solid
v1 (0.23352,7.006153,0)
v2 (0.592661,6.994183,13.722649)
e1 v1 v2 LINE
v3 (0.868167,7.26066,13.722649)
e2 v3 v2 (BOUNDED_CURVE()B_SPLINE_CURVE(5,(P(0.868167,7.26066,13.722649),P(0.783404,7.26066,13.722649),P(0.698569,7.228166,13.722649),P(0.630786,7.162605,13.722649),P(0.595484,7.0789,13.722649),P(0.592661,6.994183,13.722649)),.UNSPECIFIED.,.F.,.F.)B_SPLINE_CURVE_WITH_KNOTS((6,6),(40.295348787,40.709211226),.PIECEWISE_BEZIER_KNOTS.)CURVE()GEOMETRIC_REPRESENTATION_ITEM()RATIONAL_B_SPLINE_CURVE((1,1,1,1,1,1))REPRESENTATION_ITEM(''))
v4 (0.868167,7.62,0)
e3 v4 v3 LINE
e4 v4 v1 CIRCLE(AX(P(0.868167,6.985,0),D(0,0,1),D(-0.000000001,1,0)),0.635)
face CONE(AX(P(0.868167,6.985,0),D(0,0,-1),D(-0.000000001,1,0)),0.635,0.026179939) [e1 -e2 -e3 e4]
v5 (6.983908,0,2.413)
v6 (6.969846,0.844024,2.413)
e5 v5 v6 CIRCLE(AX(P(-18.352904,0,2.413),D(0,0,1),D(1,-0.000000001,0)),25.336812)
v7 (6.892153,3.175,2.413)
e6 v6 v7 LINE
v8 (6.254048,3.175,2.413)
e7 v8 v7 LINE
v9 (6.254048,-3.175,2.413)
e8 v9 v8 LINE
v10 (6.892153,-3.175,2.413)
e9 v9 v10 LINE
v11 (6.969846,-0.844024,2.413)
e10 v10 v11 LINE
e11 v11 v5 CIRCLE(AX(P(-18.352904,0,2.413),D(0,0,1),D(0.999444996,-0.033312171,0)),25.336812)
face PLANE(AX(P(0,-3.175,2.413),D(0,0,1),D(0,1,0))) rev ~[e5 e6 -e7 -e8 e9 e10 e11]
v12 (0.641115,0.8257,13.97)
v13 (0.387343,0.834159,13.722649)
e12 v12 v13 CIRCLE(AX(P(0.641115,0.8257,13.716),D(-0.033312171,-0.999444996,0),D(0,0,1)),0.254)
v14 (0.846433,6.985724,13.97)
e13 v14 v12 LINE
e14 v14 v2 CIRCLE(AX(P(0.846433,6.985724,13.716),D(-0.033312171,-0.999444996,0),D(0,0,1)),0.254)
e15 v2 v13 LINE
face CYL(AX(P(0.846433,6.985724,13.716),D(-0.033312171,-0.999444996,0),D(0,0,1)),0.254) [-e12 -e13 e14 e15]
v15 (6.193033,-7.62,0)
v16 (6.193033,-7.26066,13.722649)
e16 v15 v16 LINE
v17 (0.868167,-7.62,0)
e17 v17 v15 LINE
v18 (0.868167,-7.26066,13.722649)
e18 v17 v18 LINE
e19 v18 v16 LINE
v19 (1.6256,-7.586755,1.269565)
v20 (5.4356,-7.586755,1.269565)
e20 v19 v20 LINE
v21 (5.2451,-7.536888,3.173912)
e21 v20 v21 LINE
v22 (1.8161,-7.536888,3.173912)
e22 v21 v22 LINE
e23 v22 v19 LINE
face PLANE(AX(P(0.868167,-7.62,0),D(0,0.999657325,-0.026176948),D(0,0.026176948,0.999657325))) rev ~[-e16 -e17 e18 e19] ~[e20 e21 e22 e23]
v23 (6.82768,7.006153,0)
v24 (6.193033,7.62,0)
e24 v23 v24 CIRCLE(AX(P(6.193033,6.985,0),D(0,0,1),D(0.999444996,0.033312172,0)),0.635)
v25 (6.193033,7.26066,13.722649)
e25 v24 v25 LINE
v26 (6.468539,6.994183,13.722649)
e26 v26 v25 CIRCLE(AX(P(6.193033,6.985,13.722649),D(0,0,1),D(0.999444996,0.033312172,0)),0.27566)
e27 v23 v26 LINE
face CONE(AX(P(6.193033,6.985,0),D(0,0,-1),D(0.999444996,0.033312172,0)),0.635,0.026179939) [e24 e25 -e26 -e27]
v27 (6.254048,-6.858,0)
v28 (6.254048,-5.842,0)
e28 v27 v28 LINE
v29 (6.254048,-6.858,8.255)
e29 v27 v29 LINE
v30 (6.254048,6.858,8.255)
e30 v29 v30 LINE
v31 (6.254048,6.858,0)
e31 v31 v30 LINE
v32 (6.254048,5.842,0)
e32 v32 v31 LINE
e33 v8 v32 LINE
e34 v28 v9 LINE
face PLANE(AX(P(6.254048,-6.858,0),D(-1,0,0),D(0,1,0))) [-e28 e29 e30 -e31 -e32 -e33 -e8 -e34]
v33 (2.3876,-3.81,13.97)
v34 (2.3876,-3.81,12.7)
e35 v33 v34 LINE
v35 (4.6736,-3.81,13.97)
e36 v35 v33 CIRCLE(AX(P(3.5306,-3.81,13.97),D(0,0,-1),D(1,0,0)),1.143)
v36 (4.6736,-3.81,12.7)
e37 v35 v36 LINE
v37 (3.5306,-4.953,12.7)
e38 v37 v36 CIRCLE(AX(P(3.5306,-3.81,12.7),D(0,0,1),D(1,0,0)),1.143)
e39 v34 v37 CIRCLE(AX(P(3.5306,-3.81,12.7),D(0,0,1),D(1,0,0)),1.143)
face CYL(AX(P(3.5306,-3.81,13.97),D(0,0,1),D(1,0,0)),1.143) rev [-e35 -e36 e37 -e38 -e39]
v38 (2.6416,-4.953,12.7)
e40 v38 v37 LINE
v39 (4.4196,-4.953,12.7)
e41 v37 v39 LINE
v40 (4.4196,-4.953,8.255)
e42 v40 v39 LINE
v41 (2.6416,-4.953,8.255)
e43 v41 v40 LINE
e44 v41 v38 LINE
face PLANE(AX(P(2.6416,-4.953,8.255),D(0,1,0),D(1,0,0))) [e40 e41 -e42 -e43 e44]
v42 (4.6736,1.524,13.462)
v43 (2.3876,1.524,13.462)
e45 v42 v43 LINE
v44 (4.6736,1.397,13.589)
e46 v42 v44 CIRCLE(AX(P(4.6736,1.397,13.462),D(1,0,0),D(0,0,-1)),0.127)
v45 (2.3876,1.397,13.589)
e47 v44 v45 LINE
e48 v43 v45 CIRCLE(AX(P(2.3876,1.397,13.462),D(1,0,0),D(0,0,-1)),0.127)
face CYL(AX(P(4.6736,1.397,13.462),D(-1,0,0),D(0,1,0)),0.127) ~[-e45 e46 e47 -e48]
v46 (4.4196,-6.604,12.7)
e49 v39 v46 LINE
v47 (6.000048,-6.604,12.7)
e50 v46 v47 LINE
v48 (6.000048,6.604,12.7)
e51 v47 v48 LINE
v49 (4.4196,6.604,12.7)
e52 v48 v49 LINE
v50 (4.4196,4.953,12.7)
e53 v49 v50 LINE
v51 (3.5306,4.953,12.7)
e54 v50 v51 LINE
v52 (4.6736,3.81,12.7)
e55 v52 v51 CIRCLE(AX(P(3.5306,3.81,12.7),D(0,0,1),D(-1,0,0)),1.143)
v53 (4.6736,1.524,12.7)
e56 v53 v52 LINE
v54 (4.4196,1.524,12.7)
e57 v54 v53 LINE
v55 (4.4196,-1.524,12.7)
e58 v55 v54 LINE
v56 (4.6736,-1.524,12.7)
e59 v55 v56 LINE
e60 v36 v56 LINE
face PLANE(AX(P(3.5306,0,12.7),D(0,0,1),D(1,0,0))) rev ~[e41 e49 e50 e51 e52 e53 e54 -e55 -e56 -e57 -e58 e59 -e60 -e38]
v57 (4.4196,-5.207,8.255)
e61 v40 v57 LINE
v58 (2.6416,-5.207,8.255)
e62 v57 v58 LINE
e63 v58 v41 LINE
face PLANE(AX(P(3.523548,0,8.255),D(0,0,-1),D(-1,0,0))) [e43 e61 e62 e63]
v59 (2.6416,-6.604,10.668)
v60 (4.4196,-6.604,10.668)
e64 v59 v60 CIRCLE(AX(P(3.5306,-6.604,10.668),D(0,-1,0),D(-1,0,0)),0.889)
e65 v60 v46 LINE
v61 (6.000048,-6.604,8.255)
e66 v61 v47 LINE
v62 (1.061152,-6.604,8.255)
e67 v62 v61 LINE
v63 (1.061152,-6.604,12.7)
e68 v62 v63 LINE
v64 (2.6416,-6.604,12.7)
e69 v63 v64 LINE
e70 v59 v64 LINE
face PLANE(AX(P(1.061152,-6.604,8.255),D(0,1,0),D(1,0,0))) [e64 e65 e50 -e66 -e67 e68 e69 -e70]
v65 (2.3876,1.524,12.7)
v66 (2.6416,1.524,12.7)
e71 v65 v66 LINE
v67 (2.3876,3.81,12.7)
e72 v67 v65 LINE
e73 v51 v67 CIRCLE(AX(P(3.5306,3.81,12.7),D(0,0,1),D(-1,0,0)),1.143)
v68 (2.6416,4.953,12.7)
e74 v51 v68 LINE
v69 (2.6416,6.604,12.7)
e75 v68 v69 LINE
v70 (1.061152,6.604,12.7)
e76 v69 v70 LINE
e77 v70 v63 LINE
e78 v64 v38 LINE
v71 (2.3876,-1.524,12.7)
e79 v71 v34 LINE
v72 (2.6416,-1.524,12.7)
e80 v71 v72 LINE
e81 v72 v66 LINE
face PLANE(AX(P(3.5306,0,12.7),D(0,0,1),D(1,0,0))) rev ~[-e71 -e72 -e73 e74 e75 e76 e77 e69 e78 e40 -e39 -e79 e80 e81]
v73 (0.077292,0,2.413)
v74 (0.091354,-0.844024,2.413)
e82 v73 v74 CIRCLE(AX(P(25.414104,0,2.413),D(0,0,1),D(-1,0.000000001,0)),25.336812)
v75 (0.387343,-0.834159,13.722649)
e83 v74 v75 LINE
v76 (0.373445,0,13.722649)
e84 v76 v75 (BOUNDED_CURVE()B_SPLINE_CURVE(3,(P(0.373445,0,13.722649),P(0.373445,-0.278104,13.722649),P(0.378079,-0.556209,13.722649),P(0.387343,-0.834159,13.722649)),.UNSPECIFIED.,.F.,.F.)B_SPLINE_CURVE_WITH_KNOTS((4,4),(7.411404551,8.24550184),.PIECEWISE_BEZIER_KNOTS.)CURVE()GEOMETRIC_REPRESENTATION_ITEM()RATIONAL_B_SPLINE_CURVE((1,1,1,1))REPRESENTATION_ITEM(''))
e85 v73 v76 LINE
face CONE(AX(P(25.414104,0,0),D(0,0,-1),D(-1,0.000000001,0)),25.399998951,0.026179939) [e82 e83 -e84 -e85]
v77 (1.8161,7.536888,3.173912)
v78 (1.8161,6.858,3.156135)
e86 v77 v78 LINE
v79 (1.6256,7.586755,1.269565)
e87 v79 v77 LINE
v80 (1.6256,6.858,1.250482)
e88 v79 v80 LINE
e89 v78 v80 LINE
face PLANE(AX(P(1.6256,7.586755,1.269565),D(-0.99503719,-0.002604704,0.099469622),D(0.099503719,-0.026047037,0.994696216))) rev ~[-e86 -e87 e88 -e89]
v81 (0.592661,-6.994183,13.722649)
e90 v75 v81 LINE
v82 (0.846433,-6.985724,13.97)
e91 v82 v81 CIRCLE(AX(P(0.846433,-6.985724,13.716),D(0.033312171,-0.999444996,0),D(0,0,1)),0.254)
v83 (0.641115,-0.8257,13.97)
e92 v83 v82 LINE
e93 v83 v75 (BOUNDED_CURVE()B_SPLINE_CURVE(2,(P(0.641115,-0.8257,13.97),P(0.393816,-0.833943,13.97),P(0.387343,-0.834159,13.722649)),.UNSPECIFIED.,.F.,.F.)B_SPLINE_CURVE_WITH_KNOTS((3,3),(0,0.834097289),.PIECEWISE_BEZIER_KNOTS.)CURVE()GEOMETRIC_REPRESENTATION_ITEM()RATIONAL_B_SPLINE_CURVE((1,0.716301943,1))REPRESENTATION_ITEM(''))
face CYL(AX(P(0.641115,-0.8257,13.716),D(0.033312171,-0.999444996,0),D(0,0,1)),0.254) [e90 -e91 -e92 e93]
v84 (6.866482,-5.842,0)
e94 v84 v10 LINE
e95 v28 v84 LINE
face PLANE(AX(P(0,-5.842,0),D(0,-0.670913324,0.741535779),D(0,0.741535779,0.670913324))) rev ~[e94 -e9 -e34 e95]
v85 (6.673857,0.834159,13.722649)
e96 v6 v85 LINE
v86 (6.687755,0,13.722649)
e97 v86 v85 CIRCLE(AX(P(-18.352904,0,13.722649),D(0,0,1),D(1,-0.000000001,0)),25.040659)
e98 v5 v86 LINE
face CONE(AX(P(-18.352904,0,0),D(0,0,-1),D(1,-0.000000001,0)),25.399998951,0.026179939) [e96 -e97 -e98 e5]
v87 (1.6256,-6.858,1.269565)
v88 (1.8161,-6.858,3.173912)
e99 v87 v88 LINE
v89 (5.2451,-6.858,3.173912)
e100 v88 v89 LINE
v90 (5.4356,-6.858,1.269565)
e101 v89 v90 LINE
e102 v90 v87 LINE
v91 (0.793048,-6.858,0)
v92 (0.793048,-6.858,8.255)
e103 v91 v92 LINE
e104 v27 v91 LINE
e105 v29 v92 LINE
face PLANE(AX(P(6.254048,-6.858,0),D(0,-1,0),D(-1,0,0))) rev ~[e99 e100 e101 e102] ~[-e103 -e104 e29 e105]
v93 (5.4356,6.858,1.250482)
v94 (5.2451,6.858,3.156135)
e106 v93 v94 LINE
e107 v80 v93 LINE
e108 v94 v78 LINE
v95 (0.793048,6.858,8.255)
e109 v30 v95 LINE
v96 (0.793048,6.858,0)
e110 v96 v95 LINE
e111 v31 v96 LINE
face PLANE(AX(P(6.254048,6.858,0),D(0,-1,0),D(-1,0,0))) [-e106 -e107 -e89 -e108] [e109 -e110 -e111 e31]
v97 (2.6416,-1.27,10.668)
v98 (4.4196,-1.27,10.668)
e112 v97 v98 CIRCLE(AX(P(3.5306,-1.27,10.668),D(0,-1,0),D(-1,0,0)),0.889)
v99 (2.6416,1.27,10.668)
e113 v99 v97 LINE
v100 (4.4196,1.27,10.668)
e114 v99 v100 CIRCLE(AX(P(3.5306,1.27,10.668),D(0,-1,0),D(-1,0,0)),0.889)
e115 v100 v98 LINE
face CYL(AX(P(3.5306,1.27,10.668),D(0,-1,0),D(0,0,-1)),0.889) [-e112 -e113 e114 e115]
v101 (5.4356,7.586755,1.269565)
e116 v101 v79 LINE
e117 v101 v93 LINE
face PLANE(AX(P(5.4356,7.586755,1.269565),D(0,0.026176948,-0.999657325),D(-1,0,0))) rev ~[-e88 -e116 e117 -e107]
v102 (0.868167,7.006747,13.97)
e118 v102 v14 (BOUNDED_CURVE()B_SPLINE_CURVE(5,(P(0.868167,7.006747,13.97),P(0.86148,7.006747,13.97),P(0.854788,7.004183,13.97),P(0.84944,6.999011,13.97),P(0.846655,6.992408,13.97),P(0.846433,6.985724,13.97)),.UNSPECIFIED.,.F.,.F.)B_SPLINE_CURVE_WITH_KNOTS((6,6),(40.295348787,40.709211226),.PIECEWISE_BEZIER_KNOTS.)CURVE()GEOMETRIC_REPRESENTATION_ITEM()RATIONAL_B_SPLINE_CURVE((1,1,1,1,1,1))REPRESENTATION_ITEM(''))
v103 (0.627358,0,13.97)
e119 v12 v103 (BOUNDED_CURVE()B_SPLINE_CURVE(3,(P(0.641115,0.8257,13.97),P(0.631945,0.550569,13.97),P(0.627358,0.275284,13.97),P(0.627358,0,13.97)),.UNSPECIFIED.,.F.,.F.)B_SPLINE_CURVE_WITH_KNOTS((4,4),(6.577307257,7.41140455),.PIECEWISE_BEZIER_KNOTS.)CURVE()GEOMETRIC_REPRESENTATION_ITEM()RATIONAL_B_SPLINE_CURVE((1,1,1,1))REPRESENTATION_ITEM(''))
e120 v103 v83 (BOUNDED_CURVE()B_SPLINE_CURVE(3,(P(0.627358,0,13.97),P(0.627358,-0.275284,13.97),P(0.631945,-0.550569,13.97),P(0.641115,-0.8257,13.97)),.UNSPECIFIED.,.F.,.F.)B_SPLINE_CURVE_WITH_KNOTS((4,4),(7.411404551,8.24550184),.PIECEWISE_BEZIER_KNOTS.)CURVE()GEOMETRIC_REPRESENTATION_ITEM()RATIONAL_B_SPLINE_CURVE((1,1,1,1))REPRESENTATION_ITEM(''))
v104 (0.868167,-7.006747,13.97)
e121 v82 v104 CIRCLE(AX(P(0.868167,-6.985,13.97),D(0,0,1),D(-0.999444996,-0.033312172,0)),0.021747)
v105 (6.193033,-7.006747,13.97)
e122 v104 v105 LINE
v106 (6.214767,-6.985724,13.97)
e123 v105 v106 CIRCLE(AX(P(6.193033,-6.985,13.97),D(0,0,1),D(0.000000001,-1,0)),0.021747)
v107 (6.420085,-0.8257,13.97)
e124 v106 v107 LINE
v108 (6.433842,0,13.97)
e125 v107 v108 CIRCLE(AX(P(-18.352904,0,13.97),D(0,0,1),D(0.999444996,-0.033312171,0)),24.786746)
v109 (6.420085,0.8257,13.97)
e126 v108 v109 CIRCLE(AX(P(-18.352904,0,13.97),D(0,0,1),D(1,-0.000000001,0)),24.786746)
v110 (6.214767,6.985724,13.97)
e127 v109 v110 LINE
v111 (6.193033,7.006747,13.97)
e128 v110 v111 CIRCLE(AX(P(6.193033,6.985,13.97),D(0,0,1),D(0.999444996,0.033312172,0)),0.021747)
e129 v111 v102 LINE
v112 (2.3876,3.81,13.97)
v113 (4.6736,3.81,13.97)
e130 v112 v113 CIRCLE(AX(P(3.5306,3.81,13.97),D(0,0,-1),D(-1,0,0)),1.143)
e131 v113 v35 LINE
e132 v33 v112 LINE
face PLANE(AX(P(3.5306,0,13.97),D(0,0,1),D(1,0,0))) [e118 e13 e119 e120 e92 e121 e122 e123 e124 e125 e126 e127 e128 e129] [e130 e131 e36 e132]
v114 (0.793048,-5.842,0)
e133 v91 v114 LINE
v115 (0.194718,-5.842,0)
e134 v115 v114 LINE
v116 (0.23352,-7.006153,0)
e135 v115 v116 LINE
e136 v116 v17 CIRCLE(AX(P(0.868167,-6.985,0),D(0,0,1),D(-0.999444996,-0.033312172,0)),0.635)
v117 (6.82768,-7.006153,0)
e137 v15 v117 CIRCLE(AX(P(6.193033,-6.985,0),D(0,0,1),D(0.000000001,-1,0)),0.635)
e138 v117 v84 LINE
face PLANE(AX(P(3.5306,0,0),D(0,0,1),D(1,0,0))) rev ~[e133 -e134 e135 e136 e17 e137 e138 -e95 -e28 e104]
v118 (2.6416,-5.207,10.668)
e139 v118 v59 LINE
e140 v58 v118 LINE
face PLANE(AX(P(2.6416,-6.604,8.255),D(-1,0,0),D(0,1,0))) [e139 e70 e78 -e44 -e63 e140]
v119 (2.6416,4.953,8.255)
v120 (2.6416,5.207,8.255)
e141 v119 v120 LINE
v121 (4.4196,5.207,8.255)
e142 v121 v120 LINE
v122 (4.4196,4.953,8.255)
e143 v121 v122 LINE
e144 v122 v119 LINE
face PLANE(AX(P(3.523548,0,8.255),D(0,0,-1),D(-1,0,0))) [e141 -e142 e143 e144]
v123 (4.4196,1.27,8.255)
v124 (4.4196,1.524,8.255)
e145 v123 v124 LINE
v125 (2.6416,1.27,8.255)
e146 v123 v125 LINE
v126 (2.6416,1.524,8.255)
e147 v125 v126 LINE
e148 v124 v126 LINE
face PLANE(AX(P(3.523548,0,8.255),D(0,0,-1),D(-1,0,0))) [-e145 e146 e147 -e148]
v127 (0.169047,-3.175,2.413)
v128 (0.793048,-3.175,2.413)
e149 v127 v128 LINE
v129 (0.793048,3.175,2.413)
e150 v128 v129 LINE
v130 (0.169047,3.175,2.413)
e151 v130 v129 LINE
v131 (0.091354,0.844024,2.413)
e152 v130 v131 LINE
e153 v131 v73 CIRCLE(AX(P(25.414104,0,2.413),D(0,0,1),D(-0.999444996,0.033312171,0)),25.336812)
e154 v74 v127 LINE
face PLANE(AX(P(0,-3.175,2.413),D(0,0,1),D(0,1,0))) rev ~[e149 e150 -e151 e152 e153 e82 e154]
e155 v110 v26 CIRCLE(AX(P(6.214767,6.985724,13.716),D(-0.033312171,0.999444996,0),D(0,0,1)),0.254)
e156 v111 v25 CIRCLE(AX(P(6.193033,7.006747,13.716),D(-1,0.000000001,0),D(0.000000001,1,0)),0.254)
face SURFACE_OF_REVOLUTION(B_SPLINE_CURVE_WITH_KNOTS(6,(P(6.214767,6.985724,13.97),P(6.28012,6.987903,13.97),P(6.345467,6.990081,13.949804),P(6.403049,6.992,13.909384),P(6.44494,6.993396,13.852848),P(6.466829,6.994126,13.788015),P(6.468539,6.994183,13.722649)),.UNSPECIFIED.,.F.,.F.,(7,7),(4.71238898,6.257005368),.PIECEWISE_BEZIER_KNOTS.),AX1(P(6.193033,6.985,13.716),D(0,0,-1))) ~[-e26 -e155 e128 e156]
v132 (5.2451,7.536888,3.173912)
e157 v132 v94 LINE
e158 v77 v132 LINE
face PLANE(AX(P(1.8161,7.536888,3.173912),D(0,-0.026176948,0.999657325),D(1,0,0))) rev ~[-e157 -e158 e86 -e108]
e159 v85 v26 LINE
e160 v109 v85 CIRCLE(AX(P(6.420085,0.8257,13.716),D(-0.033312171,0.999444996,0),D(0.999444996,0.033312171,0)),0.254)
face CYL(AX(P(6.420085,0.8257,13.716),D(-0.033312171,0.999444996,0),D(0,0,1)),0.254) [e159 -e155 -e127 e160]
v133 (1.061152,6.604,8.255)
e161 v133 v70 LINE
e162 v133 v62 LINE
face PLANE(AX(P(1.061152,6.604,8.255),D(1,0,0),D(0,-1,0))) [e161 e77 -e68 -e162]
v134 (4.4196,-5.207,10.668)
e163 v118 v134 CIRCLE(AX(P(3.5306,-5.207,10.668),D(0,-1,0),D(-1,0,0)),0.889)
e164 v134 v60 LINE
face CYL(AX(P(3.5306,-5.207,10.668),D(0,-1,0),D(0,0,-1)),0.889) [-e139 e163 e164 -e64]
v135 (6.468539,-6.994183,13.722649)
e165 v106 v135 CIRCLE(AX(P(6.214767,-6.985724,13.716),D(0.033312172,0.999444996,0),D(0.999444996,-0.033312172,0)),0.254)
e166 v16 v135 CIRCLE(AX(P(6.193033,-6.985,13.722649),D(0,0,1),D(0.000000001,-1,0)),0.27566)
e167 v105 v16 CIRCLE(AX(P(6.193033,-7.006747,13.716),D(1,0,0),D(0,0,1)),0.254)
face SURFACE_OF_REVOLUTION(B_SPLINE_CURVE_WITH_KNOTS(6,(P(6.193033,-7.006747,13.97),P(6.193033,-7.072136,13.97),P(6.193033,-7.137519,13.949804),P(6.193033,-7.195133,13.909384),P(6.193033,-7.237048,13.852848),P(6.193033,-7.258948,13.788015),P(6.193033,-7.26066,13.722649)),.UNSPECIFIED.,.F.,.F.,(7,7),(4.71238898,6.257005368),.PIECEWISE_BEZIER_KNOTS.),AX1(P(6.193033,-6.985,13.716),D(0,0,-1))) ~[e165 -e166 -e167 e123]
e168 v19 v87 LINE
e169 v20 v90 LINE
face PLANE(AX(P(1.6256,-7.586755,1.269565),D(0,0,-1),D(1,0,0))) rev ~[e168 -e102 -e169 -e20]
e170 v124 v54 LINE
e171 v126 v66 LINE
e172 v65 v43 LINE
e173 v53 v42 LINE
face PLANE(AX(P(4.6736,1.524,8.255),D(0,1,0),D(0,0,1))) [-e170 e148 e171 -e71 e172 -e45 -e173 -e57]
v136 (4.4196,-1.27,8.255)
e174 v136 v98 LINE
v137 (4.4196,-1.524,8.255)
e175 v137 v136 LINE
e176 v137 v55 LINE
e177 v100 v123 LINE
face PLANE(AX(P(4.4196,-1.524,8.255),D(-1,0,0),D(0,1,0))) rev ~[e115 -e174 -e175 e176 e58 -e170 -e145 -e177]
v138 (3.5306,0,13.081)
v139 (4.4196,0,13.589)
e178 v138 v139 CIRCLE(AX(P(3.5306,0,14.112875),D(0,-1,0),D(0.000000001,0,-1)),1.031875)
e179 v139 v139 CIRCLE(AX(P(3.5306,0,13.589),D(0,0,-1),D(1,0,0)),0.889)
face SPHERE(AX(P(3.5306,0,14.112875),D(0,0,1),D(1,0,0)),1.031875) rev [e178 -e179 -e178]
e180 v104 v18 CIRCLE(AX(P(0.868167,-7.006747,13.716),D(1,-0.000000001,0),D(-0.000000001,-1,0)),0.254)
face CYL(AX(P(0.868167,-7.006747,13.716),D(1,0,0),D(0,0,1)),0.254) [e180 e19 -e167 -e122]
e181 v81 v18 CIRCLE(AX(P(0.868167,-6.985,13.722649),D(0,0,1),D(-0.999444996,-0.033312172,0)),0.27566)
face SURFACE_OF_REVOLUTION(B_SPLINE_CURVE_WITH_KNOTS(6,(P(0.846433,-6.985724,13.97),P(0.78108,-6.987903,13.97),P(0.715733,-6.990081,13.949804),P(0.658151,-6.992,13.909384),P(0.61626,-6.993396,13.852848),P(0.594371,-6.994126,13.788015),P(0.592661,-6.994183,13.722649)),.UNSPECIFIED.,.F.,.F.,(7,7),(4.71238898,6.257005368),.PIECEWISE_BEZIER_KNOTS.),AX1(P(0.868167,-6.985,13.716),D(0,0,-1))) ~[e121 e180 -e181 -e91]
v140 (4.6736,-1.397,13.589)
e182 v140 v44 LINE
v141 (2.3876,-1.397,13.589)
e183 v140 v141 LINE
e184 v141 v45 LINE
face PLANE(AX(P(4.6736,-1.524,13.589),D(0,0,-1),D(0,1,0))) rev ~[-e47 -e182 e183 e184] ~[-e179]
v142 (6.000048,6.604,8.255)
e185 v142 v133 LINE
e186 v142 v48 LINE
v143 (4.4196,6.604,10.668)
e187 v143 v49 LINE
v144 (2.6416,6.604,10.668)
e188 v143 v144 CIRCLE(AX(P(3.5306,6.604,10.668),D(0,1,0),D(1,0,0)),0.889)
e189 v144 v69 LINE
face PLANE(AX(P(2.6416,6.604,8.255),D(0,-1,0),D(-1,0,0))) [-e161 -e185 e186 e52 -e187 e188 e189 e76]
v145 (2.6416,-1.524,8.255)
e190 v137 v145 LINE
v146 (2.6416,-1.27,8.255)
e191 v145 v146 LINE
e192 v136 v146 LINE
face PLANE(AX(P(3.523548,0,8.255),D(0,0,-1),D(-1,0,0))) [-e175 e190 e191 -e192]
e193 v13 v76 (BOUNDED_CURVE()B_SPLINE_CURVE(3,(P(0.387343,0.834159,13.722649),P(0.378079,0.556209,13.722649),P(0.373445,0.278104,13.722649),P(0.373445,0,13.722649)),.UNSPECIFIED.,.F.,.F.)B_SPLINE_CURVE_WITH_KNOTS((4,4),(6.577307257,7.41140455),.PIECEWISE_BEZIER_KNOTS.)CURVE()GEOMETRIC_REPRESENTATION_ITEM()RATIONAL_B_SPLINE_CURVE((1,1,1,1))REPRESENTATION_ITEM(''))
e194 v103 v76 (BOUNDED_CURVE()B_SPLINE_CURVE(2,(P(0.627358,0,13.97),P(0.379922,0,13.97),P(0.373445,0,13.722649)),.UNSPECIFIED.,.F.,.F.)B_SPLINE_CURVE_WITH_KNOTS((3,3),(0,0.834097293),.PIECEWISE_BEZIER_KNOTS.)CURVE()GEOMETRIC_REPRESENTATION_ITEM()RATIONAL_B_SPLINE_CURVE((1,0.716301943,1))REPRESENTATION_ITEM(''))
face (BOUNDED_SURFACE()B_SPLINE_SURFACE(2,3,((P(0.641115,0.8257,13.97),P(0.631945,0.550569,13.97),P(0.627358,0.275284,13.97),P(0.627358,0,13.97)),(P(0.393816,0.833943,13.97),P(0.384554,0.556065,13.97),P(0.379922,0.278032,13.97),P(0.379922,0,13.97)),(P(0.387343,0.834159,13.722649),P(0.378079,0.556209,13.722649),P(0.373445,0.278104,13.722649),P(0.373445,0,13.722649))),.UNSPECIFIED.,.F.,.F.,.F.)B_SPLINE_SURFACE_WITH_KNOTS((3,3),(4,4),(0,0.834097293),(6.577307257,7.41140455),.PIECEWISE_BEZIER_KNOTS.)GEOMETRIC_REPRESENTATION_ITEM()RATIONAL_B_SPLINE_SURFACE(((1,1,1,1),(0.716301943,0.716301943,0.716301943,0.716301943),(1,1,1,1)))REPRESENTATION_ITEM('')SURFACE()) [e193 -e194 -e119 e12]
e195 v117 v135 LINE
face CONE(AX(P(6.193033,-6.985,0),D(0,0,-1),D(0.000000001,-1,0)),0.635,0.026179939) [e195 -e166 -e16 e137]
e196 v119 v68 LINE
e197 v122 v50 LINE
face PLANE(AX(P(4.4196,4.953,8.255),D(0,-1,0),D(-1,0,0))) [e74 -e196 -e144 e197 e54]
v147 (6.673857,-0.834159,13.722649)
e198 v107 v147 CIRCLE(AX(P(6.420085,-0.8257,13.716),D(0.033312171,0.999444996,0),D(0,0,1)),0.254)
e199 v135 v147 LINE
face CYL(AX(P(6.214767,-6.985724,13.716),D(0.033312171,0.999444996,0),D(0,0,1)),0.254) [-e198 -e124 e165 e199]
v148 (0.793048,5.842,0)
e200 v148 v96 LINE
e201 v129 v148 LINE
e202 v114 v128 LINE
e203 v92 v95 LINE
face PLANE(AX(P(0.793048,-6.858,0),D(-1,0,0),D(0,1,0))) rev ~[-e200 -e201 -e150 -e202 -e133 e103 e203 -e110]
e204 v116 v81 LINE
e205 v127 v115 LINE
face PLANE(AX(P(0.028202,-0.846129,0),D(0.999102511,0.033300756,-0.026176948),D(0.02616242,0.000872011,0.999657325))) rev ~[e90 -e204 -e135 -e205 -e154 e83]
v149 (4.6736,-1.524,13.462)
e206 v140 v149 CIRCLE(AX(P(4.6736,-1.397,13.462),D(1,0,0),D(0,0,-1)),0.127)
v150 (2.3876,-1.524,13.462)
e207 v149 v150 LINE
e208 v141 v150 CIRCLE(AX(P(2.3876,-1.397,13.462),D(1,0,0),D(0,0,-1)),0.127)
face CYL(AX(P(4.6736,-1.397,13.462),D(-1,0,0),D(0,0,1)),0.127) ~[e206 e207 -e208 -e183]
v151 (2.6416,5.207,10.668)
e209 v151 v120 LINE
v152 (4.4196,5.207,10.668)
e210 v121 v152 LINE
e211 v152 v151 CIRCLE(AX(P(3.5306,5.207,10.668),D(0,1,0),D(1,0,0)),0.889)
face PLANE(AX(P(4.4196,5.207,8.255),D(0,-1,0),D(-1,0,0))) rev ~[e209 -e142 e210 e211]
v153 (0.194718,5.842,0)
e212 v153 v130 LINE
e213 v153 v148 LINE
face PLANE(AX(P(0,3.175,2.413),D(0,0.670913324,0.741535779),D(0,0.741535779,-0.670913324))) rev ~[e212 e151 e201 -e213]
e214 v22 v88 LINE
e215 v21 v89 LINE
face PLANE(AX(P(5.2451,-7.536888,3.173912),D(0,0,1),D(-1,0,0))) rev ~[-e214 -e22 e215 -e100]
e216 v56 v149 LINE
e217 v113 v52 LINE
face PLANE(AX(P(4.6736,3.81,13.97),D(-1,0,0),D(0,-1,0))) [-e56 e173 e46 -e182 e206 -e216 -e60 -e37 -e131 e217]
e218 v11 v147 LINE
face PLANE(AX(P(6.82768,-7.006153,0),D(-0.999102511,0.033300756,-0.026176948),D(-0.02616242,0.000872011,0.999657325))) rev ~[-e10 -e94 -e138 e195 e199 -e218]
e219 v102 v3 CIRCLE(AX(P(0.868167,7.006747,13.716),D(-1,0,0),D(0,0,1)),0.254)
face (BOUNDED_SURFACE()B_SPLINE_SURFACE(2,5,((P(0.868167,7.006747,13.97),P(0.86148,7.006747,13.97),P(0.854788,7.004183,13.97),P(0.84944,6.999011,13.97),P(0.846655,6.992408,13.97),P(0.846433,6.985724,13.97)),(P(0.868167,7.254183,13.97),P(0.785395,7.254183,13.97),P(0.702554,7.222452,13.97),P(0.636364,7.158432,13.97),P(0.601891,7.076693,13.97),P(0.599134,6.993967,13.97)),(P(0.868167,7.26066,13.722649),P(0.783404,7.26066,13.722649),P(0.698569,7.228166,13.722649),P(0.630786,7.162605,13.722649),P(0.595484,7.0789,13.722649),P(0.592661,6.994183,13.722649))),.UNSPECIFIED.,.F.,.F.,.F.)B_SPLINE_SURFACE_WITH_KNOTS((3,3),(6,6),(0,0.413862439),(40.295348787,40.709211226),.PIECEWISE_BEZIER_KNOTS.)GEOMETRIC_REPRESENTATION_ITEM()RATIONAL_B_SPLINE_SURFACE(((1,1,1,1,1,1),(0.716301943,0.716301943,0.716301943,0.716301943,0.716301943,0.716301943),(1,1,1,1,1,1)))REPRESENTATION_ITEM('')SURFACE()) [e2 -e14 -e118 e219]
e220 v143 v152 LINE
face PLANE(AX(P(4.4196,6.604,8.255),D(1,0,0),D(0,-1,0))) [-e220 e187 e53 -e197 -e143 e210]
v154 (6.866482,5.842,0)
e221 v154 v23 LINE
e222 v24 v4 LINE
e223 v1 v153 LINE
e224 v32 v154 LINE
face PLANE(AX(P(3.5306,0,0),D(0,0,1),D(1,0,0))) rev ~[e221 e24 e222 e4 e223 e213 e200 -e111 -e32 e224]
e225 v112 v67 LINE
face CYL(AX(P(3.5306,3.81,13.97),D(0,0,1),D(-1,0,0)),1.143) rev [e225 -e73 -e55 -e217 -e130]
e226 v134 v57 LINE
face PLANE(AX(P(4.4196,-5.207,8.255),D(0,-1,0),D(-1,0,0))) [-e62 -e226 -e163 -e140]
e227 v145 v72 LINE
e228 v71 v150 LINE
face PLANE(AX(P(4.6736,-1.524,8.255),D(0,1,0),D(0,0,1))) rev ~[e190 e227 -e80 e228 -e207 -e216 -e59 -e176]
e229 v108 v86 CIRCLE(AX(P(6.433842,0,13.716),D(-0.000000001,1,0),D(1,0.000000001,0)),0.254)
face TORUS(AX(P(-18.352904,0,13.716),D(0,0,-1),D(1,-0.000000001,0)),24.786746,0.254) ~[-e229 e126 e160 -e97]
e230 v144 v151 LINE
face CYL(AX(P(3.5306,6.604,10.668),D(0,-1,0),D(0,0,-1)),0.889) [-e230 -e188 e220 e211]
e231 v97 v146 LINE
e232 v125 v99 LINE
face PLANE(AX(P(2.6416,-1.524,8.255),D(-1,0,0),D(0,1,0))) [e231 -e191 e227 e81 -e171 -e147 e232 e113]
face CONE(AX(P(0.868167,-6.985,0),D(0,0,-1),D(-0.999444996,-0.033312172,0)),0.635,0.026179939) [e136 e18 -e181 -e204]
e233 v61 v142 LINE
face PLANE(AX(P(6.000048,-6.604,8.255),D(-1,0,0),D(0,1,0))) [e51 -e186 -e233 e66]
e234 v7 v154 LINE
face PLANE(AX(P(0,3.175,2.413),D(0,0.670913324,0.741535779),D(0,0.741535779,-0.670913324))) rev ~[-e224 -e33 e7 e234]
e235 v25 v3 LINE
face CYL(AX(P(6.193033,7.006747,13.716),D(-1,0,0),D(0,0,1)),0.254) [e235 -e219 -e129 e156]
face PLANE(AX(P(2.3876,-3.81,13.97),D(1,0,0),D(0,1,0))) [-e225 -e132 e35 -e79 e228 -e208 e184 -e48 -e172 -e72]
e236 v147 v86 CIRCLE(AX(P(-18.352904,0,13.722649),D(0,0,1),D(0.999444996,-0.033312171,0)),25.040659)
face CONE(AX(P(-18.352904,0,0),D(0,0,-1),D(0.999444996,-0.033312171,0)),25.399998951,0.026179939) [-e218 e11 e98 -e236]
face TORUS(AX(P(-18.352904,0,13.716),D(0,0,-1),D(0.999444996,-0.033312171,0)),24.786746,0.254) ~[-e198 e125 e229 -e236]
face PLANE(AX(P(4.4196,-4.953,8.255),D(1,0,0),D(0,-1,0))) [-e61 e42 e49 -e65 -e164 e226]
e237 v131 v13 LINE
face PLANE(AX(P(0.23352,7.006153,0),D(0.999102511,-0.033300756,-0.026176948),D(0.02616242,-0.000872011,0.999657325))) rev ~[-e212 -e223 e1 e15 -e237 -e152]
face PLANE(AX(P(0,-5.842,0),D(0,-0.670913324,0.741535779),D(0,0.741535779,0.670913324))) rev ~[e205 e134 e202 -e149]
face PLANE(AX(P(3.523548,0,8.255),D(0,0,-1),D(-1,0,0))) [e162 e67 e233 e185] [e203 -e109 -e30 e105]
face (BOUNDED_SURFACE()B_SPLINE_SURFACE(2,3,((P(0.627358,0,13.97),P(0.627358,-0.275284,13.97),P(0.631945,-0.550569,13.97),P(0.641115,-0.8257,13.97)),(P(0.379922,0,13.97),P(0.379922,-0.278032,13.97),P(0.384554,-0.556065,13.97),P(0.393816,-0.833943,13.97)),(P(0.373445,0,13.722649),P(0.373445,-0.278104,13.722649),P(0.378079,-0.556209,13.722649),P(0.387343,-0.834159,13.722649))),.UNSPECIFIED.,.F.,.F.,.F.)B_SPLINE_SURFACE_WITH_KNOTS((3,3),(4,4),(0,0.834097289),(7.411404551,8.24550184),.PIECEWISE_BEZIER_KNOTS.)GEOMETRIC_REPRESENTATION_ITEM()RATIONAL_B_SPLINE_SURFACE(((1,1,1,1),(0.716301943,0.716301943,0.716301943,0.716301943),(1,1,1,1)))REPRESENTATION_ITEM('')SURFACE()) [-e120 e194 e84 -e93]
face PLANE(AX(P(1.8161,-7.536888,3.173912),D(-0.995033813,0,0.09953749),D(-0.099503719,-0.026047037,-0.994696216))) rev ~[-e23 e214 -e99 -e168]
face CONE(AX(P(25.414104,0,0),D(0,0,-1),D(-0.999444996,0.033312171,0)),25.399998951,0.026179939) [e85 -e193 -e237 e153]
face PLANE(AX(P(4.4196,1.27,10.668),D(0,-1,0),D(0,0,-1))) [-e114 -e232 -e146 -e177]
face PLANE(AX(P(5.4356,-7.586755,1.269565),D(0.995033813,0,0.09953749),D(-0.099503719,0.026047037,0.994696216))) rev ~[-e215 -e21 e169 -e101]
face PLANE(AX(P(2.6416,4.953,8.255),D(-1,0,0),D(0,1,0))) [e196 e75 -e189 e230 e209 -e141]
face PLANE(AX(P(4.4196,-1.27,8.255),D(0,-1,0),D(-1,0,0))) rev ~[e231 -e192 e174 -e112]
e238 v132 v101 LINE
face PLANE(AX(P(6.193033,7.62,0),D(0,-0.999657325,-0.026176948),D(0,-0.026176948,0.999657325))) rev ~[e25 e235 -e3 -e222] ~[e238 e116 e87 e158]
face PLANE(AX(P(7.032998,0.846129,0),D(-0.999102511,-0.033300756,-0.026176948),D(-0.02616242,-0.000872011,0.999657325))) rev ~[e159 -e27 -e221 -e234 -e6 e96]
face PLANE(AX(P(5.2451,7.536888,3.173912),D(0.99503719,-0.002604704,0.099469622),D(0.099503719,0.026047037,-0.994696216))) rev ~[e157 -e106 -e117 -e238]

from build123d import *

# Parameters (mm, degrees)
BOSS_EXTRUDE1_DEPTH = 13.97
BOSS_EXTRUDE1_TAPER = 1.5
SKETCH2_W           = 5.461
SKETCH2_H           = 13.716
CUT_EXTRUDE1_DEPTH  = 8.255
CUT_EXTRUDE2_DEPTH  = 18.403644698
SKETCH5_W           = 5.334
SKETCH5_H           = 3.048
BOSS_EXTRUDE2_DEPTH = 2.286
SKETCH7_W           = 1.778
SKETCH7_H           = 3.048
CUT_EXTRUDE5_DEPTH  = 4.445
SKETCH9_W           = 1.778
SKETCH9_H           = 2.54
SKETCH9_H_2         = 1.397
CUT_EXTRUDE6_DEPTH  = 1.524
FILLET2_RADIUS      = 0.889
FILLET2_LENGTH      = 1.397
FILLET3_RADIUS      = 0.889
FILLET3_LENGTH      = 2.54
FILLET4_RADIUS      = 0.889
FILLET4_LENGTH      = 1.397
FILLET5_R           = 0.254
FILLET6_R           = 0.127
CUT_EXTRUDE7_REACH  = 23.72
CUT_EXTRUDE8_REACH  = 23.712
CUT_EXTRUDE10_DEPTH = 18.403644779


with BuildPart() as part:
    # Sketch1 → Boss-Extrude1 (new body)
    with BuildSketch(Plane.XY):
        with BuildLine():
            ThreePointArc((6.827680219, 7.006153229), (6.634503314, 7.441430334), (6.193032647, 7.62))
            Line((6.193032647, 7.62), (0.868167353, 7.62))
            ThreePointArc((0.868167353, 7.62), (0.426696686, 7.441430334), (0.233519781, 7.006153229))
            Line((0.233519781, 7.006153229), (0.028202051, 0.84612915))
            ThreePointArc((0.028202051, 0.84612915), (0.017629462, 0.423123288), (0.01410494, 0))
            ThreePointArc((0.01410494, 0), (0.017629462, -0.423123288), (0.028202051, -0.84612915))
            Line((0.028202051, -0.84612915), (0.233519781, -7.006153229))
            ThreePointArc((0.233519781, -7.006153229), (0.426696686, -7.441430334), (0.868167353, -7.62))
            Line((0.868167353, -7.62), (6.193032647, -7.62))
            ThreePointArc((6.193032647, -7.62), (6.634503314, -7.441430334), (6.827680219, -7.006153229))
            Line((6.827680219, -7.006153229), (7.032997949, -0.84612915))
            ThreePointArc((7.032997949, -0.84612915), (7.043570538, -0.423123288), (7.04709506, 0))
            ThreePointArc((7.04709506, 0), (7.043570538, 0.423123288), (7.032997949, 0.84612915))
            Line((7.032997949, 0.84612915), (6.827680219, 7.006153229))
        make_face()
    extrude(amount=BOSS_EXTRUDE1_DEPTH, taper=BOSS_EXTRUDE1_TAPER)

    # Sketch2 → Cut-Extrude1 (cut)
    with BuildSketch(Plane(origin=(0, 0, 0), x_dir=(-1, 0, 0), z_dir=(0, 0, -1))):
        with Locations((-3.52354753, 0)):
            Rectangle(SKETCH2_W, SKETCH2_H)
    extrude(amount=-CUT_EXTRUDE1_DEPTH, mode=Mode.SUBTRACT)

    # Sketch3 → Cut-Extrude2 (cut, through all)
    with BuildSketch(Plane.XY.offset(13.97)):
        with BuildLine():
            Line((4.6736, 3.81), (4.6736, -3.81))
            ThreePointArc((4.6736, -3.81), (3.5306, -4.953), (2.3876, -3.81))
            Line((2.3876, -3.81), (2.3876, 3.81))
            ThreePointArc((2.3876, 3.81), (3.5306, 4.953), (4.6736, 3.81))
        make_face()
    extrude(amount=-CUT_EXTRUDE2_DEPTH, mode=Mode.SUBTRACT)

    # Sketch5 → Boss-Extrude2 (add)
    with BuildSketch(Plane.ZY.offset(-4.6736)):
        with Locations((10.922, 0)):
            Rectangle(SKETCH5_W, SKETCH5_H)
    extrude(amount=BOSS_EXTRUDE2_DEPTH)

    # Sketch6 → Cut-Revolve1 (revolve, cut)
    with BuildSketch(Plane(origin=(0, 0, 0), x_dir=(1, 0, 0), z_dir=(0, 1, 0)), mode=Mode.PRIVATE) as cut_revolve1_sk:
        with BuildLine():
            Line((3.5306, -13.589), (3.5306, -13.081))
            ThreePointArc((3.5306, -13.081), (3.018646633, -13.216956608), (2.6416, -13.589))
            Line((2.6416, -13.589), (3.5306, -13.589))
        make_face()
    revolve(cut_revolve1_sk.sketch.rotate(Axis((3.5306, 0, 13.589), (0, 0, -1)), 180), axis=Axis((3.5306, 0, 13.589), (0, 0, -1)), mode=Mode.SUBTRACT)

    # Sketch7 → Cut-Extrude5 (cut)
    with BuildSketch(Plane(origin=(0, 0, 8.255), x_dir=(-1, 0, 0), z_dir=(0, 0, -1))):
        Polygon((-1.06115247, -6.604), (-2.6416, -6.604), (-2.6416, -4.953), (-4.4196, -4.953), (-4.4196, -6.604), (-6.00004753, -6.604), (-6.00004753, 6.604), (-4.4196, 6.604), (-4.4196, 4.953), (-2.6416, 4.953), (-2.6416, 6.604), (-1.06115247, 6.604), align=None)
        with Locations((-3.5306, 0)):
            Rectangle(SKETCH7_W, SKETCH7_H, mode=Mode.SUBTRACT)
    extrude(amount=-CUT_EXTRUDE5_DEPTH, mode=Mode.SUBTRACT)

    # Sketch9 → Cut-Extrude6 (cut)
    with BuildSketch(Plane(origin=(0, 0, 8.255), x_dir=(-1, 0, 0), z_dir=(0, 0, -1))):
        with Locations((-3.5306, 0)):
            Rectangle(SKETCH9_W, SKETCH9_H)
        with Locations((-3.5306, 5.9055)):
            Rectangle(SKETCH9_W, SKETCH9_H_2)
        with Locations((-3.5306, -5.9055)):
            Rectangle(SKETCH9_W, SKETCH9_H_2)
    extrude(amount=-CUT_EXTRUDE6_DEPTH, mode=Mode.SUBTRACT)

    # Fillet2: full round fillet: the end face becomes a half cylinder, R = half its width
    fillet2_face = Plane((3.5306, -5.9055, 9.779), x_dir=(0, -1, 0), z_dir=(0, 0, -1))  # on the end face: x along it, z out of the body
    fillet2_slab = fillet2_face.offset(-FILLET2_RADIUS / 2) * Box(FILLET2_LENGTH, 2 * FILLET2_RADIUS, FILLET2_RADIUS, mode=Mode.PRIVATE)  # the body's end, R deep
    fillet2_round = Plane((3.5306, -5.9055, 10.668), x_dir=(0, 0, -1), z_dir=(0, -1, 0)) * Cylinder(FILLET2_RADIUS, FILLET2_LENGTH, mode=Mode.PRIVATE)  # its axis R under the face
    add(fillet2_slab - fillet2_round, mode=Mode.SUBTRACT)

    # Fillet3: full round fillet: the end face becomes a half cylinder, R = half its width
    fillet3_face = Plane((3.5306, 0, 9.779), x_dir=(0, -1, 0), z_dir=(0, 0, -1))  # on the end face: x along it, z out of the body
    fillet3_slab = fillet3_face.offset(-FILLET3_RADIUS / 2) * Box(FILLET3_LENGTH, 2 * FILLET3_RADIUS, FILLET3_RADIUS, mode=Mode.PRIVATE)  # the body's end, R deep
    fillet3_round = Plane((3.5306, 0, 10.668), x_dir=(0, 0, -1), z_dir=(0, -1, 0)) * Cylinder(FILLET3_RADIUS, FILLET3_LENGTH, mode=Mode.PRIVATE)  # its axis R under the face
    add(fillet3_slab - fillet3_round, mode=Mode.SUBTRACT)

    # Fillet4: full round fillet: the end face becomes a half cylinder, R = half its width
    fillet4_face = Plane((3.5306, 5.9055, 9.779), x_dir=(0, -1, 0), z_dir=(0, 0, -1))  # on the end face: x along it, z out of the body
    fillet4_slab = fillet4_face.offset(-FILLET4_RADIUS / 2) * Box(FILLET4_LENGTH, 2 * FILLET4_RADIUS, FILLET4_RADIUS, mode=Mode.PRIVATE)  # the body's end, R deep
    fillet4_round = Plane((3.5306, 5.9055, 10.668), x_dir=(0, 0, -1), z_dir=(0, -1, 0)) * Cylinder(FILLET4_RADIUS, FILLET4_LENGTH, mode=Mode.PRIVATE)  # its axis R under the face
    add(fillet4_slab - fillet4_round, mode=Mode.SUBTRACT)

    # Fillet5
    fillet5_edges = [part.edges().sort_by_distance(p)[0] for p in [
        (0.681023644, 7.178485258, 13.97),
        (0.49647521, 3.91395502, 13.97),
        (0.383396026, 0.417029358, 13.97),
        (0.49647521, -3.91395502, 13.97),
        (0.681023644, -7.178485258, 13.97),
        (3.5306, -7.254182676, 13.97),
        (6.380176356, -7.178485258, 13.97),
        (6.56472479, -3.91395502, 13.97),
        (6.677803974, -0.417029358, 13.97),
        (6.380176356, 7.178485258, 13.97),
        (6.56472479, 3.91395502, 13.97),
        (3.5306, 7.254182676, 13.97),
    ]]
    fillet(fillet5_edges, radius=FILLET5_R)

    # Fillet6
    fillet6_edges = [part.edges().sort_by_distance(p)[0] for p in [
        (3.5306, -1.524, 13.589),
        (3.5306, 1.524, 13.589),
    ]]
    fillet(fillet6_edges, radius=FILLET6_R)

    # Cut-Extrude7: up to this plane
    cut_extrude7_end = Plane(origin=(6.25404753, -6.858, 28.733169612), z_dir=(0, -1, 0))
    # Sketch10 → Cut-Extrude7 (cut, up to the surface)
    with BuildSketch(Plane(origin=(0, -7.614778527, 0.199399993), x_dir=(-1, 0, 0), z_dir=(0, -0.9996573249755574, 0.026176948307873222)), mode=Mode.PRIVATE) as cut_extrude7_sk1:
        Polygon((-1.6256, -1.070531654), (-5.4356, -1.070531654), (-5.2451, -2.975531654), (-1.8161, -2.975531654), align=None)
    cut_extrude7_tool1 = split(extrude(cut_extrude7_sk1.sketch, amount=CUT_EXTRUDE7_REACH, dir=(0, 1, 0), mode=Mode.PRIVATE), bisect_by=cut_extrude7_end, keep=Keep.BOTH, mode=Mode.PRIVATE)
    add(cut_extrude7_tool1.solids().sort_by_distance((3.5306, -7.562259, 2.205034))[0], mode=Mode.SUBTRACT)

    # Cut-Extrude8: up to this plane
    cut_extrude8_end = Plane(origin=(6.25404753, 6.858, 28.733169612), z_dir=(0, 1, 0))
    # Sketch12 → Cut-Extrude8 (cut, up to the surface)
    with BuildSketch(Plane(origin=(0, 7.614778527, 0.199399993), x_dir=(1, 0, 0), z_dir=(0, 0.9996573249755574, 0.026176948307873222)), mode=Mode.PRIVATE) as cut_extrude8_sk1:
        Polygon((5.4356, -1.070531654), (1.6256, -1.070531654), (1.8161, -2.975531654), (5.2451, -2.975531654), align=None)
    cut_extrude8_tool1 = split(extrude(cut_extrude8_sk1.sketch, amount=-CUT_EXTRUDE8_REACH, mode=Mode.PRIVATE), bisect_by=cut_extrude8_end, keep=Keep.BOTH, mode=Mode.PRIVATE)
    add(cut_extrude8_tool1.solids().sort_by_distance((3.5306, 7.562259, 2.205034))[0], mode=Mode.SUBTRACT)

    # Sketch13 → Cut-Extrude10 (cut, through all)
    with BuildSketch(Plane(origin=(0, 0, 0), x_dir=(0, 0, -1), z_dir=(1, 0, 0))):
        Polygon((0, 5.842), (0, -5.842), (-2.413, -3.175), (-2.413, 3.175), align=None)
    extrude(amount=CUT_EXTRUDE10_DEPTH, mode=Mode.SUBTRACT)


solid = part.part
